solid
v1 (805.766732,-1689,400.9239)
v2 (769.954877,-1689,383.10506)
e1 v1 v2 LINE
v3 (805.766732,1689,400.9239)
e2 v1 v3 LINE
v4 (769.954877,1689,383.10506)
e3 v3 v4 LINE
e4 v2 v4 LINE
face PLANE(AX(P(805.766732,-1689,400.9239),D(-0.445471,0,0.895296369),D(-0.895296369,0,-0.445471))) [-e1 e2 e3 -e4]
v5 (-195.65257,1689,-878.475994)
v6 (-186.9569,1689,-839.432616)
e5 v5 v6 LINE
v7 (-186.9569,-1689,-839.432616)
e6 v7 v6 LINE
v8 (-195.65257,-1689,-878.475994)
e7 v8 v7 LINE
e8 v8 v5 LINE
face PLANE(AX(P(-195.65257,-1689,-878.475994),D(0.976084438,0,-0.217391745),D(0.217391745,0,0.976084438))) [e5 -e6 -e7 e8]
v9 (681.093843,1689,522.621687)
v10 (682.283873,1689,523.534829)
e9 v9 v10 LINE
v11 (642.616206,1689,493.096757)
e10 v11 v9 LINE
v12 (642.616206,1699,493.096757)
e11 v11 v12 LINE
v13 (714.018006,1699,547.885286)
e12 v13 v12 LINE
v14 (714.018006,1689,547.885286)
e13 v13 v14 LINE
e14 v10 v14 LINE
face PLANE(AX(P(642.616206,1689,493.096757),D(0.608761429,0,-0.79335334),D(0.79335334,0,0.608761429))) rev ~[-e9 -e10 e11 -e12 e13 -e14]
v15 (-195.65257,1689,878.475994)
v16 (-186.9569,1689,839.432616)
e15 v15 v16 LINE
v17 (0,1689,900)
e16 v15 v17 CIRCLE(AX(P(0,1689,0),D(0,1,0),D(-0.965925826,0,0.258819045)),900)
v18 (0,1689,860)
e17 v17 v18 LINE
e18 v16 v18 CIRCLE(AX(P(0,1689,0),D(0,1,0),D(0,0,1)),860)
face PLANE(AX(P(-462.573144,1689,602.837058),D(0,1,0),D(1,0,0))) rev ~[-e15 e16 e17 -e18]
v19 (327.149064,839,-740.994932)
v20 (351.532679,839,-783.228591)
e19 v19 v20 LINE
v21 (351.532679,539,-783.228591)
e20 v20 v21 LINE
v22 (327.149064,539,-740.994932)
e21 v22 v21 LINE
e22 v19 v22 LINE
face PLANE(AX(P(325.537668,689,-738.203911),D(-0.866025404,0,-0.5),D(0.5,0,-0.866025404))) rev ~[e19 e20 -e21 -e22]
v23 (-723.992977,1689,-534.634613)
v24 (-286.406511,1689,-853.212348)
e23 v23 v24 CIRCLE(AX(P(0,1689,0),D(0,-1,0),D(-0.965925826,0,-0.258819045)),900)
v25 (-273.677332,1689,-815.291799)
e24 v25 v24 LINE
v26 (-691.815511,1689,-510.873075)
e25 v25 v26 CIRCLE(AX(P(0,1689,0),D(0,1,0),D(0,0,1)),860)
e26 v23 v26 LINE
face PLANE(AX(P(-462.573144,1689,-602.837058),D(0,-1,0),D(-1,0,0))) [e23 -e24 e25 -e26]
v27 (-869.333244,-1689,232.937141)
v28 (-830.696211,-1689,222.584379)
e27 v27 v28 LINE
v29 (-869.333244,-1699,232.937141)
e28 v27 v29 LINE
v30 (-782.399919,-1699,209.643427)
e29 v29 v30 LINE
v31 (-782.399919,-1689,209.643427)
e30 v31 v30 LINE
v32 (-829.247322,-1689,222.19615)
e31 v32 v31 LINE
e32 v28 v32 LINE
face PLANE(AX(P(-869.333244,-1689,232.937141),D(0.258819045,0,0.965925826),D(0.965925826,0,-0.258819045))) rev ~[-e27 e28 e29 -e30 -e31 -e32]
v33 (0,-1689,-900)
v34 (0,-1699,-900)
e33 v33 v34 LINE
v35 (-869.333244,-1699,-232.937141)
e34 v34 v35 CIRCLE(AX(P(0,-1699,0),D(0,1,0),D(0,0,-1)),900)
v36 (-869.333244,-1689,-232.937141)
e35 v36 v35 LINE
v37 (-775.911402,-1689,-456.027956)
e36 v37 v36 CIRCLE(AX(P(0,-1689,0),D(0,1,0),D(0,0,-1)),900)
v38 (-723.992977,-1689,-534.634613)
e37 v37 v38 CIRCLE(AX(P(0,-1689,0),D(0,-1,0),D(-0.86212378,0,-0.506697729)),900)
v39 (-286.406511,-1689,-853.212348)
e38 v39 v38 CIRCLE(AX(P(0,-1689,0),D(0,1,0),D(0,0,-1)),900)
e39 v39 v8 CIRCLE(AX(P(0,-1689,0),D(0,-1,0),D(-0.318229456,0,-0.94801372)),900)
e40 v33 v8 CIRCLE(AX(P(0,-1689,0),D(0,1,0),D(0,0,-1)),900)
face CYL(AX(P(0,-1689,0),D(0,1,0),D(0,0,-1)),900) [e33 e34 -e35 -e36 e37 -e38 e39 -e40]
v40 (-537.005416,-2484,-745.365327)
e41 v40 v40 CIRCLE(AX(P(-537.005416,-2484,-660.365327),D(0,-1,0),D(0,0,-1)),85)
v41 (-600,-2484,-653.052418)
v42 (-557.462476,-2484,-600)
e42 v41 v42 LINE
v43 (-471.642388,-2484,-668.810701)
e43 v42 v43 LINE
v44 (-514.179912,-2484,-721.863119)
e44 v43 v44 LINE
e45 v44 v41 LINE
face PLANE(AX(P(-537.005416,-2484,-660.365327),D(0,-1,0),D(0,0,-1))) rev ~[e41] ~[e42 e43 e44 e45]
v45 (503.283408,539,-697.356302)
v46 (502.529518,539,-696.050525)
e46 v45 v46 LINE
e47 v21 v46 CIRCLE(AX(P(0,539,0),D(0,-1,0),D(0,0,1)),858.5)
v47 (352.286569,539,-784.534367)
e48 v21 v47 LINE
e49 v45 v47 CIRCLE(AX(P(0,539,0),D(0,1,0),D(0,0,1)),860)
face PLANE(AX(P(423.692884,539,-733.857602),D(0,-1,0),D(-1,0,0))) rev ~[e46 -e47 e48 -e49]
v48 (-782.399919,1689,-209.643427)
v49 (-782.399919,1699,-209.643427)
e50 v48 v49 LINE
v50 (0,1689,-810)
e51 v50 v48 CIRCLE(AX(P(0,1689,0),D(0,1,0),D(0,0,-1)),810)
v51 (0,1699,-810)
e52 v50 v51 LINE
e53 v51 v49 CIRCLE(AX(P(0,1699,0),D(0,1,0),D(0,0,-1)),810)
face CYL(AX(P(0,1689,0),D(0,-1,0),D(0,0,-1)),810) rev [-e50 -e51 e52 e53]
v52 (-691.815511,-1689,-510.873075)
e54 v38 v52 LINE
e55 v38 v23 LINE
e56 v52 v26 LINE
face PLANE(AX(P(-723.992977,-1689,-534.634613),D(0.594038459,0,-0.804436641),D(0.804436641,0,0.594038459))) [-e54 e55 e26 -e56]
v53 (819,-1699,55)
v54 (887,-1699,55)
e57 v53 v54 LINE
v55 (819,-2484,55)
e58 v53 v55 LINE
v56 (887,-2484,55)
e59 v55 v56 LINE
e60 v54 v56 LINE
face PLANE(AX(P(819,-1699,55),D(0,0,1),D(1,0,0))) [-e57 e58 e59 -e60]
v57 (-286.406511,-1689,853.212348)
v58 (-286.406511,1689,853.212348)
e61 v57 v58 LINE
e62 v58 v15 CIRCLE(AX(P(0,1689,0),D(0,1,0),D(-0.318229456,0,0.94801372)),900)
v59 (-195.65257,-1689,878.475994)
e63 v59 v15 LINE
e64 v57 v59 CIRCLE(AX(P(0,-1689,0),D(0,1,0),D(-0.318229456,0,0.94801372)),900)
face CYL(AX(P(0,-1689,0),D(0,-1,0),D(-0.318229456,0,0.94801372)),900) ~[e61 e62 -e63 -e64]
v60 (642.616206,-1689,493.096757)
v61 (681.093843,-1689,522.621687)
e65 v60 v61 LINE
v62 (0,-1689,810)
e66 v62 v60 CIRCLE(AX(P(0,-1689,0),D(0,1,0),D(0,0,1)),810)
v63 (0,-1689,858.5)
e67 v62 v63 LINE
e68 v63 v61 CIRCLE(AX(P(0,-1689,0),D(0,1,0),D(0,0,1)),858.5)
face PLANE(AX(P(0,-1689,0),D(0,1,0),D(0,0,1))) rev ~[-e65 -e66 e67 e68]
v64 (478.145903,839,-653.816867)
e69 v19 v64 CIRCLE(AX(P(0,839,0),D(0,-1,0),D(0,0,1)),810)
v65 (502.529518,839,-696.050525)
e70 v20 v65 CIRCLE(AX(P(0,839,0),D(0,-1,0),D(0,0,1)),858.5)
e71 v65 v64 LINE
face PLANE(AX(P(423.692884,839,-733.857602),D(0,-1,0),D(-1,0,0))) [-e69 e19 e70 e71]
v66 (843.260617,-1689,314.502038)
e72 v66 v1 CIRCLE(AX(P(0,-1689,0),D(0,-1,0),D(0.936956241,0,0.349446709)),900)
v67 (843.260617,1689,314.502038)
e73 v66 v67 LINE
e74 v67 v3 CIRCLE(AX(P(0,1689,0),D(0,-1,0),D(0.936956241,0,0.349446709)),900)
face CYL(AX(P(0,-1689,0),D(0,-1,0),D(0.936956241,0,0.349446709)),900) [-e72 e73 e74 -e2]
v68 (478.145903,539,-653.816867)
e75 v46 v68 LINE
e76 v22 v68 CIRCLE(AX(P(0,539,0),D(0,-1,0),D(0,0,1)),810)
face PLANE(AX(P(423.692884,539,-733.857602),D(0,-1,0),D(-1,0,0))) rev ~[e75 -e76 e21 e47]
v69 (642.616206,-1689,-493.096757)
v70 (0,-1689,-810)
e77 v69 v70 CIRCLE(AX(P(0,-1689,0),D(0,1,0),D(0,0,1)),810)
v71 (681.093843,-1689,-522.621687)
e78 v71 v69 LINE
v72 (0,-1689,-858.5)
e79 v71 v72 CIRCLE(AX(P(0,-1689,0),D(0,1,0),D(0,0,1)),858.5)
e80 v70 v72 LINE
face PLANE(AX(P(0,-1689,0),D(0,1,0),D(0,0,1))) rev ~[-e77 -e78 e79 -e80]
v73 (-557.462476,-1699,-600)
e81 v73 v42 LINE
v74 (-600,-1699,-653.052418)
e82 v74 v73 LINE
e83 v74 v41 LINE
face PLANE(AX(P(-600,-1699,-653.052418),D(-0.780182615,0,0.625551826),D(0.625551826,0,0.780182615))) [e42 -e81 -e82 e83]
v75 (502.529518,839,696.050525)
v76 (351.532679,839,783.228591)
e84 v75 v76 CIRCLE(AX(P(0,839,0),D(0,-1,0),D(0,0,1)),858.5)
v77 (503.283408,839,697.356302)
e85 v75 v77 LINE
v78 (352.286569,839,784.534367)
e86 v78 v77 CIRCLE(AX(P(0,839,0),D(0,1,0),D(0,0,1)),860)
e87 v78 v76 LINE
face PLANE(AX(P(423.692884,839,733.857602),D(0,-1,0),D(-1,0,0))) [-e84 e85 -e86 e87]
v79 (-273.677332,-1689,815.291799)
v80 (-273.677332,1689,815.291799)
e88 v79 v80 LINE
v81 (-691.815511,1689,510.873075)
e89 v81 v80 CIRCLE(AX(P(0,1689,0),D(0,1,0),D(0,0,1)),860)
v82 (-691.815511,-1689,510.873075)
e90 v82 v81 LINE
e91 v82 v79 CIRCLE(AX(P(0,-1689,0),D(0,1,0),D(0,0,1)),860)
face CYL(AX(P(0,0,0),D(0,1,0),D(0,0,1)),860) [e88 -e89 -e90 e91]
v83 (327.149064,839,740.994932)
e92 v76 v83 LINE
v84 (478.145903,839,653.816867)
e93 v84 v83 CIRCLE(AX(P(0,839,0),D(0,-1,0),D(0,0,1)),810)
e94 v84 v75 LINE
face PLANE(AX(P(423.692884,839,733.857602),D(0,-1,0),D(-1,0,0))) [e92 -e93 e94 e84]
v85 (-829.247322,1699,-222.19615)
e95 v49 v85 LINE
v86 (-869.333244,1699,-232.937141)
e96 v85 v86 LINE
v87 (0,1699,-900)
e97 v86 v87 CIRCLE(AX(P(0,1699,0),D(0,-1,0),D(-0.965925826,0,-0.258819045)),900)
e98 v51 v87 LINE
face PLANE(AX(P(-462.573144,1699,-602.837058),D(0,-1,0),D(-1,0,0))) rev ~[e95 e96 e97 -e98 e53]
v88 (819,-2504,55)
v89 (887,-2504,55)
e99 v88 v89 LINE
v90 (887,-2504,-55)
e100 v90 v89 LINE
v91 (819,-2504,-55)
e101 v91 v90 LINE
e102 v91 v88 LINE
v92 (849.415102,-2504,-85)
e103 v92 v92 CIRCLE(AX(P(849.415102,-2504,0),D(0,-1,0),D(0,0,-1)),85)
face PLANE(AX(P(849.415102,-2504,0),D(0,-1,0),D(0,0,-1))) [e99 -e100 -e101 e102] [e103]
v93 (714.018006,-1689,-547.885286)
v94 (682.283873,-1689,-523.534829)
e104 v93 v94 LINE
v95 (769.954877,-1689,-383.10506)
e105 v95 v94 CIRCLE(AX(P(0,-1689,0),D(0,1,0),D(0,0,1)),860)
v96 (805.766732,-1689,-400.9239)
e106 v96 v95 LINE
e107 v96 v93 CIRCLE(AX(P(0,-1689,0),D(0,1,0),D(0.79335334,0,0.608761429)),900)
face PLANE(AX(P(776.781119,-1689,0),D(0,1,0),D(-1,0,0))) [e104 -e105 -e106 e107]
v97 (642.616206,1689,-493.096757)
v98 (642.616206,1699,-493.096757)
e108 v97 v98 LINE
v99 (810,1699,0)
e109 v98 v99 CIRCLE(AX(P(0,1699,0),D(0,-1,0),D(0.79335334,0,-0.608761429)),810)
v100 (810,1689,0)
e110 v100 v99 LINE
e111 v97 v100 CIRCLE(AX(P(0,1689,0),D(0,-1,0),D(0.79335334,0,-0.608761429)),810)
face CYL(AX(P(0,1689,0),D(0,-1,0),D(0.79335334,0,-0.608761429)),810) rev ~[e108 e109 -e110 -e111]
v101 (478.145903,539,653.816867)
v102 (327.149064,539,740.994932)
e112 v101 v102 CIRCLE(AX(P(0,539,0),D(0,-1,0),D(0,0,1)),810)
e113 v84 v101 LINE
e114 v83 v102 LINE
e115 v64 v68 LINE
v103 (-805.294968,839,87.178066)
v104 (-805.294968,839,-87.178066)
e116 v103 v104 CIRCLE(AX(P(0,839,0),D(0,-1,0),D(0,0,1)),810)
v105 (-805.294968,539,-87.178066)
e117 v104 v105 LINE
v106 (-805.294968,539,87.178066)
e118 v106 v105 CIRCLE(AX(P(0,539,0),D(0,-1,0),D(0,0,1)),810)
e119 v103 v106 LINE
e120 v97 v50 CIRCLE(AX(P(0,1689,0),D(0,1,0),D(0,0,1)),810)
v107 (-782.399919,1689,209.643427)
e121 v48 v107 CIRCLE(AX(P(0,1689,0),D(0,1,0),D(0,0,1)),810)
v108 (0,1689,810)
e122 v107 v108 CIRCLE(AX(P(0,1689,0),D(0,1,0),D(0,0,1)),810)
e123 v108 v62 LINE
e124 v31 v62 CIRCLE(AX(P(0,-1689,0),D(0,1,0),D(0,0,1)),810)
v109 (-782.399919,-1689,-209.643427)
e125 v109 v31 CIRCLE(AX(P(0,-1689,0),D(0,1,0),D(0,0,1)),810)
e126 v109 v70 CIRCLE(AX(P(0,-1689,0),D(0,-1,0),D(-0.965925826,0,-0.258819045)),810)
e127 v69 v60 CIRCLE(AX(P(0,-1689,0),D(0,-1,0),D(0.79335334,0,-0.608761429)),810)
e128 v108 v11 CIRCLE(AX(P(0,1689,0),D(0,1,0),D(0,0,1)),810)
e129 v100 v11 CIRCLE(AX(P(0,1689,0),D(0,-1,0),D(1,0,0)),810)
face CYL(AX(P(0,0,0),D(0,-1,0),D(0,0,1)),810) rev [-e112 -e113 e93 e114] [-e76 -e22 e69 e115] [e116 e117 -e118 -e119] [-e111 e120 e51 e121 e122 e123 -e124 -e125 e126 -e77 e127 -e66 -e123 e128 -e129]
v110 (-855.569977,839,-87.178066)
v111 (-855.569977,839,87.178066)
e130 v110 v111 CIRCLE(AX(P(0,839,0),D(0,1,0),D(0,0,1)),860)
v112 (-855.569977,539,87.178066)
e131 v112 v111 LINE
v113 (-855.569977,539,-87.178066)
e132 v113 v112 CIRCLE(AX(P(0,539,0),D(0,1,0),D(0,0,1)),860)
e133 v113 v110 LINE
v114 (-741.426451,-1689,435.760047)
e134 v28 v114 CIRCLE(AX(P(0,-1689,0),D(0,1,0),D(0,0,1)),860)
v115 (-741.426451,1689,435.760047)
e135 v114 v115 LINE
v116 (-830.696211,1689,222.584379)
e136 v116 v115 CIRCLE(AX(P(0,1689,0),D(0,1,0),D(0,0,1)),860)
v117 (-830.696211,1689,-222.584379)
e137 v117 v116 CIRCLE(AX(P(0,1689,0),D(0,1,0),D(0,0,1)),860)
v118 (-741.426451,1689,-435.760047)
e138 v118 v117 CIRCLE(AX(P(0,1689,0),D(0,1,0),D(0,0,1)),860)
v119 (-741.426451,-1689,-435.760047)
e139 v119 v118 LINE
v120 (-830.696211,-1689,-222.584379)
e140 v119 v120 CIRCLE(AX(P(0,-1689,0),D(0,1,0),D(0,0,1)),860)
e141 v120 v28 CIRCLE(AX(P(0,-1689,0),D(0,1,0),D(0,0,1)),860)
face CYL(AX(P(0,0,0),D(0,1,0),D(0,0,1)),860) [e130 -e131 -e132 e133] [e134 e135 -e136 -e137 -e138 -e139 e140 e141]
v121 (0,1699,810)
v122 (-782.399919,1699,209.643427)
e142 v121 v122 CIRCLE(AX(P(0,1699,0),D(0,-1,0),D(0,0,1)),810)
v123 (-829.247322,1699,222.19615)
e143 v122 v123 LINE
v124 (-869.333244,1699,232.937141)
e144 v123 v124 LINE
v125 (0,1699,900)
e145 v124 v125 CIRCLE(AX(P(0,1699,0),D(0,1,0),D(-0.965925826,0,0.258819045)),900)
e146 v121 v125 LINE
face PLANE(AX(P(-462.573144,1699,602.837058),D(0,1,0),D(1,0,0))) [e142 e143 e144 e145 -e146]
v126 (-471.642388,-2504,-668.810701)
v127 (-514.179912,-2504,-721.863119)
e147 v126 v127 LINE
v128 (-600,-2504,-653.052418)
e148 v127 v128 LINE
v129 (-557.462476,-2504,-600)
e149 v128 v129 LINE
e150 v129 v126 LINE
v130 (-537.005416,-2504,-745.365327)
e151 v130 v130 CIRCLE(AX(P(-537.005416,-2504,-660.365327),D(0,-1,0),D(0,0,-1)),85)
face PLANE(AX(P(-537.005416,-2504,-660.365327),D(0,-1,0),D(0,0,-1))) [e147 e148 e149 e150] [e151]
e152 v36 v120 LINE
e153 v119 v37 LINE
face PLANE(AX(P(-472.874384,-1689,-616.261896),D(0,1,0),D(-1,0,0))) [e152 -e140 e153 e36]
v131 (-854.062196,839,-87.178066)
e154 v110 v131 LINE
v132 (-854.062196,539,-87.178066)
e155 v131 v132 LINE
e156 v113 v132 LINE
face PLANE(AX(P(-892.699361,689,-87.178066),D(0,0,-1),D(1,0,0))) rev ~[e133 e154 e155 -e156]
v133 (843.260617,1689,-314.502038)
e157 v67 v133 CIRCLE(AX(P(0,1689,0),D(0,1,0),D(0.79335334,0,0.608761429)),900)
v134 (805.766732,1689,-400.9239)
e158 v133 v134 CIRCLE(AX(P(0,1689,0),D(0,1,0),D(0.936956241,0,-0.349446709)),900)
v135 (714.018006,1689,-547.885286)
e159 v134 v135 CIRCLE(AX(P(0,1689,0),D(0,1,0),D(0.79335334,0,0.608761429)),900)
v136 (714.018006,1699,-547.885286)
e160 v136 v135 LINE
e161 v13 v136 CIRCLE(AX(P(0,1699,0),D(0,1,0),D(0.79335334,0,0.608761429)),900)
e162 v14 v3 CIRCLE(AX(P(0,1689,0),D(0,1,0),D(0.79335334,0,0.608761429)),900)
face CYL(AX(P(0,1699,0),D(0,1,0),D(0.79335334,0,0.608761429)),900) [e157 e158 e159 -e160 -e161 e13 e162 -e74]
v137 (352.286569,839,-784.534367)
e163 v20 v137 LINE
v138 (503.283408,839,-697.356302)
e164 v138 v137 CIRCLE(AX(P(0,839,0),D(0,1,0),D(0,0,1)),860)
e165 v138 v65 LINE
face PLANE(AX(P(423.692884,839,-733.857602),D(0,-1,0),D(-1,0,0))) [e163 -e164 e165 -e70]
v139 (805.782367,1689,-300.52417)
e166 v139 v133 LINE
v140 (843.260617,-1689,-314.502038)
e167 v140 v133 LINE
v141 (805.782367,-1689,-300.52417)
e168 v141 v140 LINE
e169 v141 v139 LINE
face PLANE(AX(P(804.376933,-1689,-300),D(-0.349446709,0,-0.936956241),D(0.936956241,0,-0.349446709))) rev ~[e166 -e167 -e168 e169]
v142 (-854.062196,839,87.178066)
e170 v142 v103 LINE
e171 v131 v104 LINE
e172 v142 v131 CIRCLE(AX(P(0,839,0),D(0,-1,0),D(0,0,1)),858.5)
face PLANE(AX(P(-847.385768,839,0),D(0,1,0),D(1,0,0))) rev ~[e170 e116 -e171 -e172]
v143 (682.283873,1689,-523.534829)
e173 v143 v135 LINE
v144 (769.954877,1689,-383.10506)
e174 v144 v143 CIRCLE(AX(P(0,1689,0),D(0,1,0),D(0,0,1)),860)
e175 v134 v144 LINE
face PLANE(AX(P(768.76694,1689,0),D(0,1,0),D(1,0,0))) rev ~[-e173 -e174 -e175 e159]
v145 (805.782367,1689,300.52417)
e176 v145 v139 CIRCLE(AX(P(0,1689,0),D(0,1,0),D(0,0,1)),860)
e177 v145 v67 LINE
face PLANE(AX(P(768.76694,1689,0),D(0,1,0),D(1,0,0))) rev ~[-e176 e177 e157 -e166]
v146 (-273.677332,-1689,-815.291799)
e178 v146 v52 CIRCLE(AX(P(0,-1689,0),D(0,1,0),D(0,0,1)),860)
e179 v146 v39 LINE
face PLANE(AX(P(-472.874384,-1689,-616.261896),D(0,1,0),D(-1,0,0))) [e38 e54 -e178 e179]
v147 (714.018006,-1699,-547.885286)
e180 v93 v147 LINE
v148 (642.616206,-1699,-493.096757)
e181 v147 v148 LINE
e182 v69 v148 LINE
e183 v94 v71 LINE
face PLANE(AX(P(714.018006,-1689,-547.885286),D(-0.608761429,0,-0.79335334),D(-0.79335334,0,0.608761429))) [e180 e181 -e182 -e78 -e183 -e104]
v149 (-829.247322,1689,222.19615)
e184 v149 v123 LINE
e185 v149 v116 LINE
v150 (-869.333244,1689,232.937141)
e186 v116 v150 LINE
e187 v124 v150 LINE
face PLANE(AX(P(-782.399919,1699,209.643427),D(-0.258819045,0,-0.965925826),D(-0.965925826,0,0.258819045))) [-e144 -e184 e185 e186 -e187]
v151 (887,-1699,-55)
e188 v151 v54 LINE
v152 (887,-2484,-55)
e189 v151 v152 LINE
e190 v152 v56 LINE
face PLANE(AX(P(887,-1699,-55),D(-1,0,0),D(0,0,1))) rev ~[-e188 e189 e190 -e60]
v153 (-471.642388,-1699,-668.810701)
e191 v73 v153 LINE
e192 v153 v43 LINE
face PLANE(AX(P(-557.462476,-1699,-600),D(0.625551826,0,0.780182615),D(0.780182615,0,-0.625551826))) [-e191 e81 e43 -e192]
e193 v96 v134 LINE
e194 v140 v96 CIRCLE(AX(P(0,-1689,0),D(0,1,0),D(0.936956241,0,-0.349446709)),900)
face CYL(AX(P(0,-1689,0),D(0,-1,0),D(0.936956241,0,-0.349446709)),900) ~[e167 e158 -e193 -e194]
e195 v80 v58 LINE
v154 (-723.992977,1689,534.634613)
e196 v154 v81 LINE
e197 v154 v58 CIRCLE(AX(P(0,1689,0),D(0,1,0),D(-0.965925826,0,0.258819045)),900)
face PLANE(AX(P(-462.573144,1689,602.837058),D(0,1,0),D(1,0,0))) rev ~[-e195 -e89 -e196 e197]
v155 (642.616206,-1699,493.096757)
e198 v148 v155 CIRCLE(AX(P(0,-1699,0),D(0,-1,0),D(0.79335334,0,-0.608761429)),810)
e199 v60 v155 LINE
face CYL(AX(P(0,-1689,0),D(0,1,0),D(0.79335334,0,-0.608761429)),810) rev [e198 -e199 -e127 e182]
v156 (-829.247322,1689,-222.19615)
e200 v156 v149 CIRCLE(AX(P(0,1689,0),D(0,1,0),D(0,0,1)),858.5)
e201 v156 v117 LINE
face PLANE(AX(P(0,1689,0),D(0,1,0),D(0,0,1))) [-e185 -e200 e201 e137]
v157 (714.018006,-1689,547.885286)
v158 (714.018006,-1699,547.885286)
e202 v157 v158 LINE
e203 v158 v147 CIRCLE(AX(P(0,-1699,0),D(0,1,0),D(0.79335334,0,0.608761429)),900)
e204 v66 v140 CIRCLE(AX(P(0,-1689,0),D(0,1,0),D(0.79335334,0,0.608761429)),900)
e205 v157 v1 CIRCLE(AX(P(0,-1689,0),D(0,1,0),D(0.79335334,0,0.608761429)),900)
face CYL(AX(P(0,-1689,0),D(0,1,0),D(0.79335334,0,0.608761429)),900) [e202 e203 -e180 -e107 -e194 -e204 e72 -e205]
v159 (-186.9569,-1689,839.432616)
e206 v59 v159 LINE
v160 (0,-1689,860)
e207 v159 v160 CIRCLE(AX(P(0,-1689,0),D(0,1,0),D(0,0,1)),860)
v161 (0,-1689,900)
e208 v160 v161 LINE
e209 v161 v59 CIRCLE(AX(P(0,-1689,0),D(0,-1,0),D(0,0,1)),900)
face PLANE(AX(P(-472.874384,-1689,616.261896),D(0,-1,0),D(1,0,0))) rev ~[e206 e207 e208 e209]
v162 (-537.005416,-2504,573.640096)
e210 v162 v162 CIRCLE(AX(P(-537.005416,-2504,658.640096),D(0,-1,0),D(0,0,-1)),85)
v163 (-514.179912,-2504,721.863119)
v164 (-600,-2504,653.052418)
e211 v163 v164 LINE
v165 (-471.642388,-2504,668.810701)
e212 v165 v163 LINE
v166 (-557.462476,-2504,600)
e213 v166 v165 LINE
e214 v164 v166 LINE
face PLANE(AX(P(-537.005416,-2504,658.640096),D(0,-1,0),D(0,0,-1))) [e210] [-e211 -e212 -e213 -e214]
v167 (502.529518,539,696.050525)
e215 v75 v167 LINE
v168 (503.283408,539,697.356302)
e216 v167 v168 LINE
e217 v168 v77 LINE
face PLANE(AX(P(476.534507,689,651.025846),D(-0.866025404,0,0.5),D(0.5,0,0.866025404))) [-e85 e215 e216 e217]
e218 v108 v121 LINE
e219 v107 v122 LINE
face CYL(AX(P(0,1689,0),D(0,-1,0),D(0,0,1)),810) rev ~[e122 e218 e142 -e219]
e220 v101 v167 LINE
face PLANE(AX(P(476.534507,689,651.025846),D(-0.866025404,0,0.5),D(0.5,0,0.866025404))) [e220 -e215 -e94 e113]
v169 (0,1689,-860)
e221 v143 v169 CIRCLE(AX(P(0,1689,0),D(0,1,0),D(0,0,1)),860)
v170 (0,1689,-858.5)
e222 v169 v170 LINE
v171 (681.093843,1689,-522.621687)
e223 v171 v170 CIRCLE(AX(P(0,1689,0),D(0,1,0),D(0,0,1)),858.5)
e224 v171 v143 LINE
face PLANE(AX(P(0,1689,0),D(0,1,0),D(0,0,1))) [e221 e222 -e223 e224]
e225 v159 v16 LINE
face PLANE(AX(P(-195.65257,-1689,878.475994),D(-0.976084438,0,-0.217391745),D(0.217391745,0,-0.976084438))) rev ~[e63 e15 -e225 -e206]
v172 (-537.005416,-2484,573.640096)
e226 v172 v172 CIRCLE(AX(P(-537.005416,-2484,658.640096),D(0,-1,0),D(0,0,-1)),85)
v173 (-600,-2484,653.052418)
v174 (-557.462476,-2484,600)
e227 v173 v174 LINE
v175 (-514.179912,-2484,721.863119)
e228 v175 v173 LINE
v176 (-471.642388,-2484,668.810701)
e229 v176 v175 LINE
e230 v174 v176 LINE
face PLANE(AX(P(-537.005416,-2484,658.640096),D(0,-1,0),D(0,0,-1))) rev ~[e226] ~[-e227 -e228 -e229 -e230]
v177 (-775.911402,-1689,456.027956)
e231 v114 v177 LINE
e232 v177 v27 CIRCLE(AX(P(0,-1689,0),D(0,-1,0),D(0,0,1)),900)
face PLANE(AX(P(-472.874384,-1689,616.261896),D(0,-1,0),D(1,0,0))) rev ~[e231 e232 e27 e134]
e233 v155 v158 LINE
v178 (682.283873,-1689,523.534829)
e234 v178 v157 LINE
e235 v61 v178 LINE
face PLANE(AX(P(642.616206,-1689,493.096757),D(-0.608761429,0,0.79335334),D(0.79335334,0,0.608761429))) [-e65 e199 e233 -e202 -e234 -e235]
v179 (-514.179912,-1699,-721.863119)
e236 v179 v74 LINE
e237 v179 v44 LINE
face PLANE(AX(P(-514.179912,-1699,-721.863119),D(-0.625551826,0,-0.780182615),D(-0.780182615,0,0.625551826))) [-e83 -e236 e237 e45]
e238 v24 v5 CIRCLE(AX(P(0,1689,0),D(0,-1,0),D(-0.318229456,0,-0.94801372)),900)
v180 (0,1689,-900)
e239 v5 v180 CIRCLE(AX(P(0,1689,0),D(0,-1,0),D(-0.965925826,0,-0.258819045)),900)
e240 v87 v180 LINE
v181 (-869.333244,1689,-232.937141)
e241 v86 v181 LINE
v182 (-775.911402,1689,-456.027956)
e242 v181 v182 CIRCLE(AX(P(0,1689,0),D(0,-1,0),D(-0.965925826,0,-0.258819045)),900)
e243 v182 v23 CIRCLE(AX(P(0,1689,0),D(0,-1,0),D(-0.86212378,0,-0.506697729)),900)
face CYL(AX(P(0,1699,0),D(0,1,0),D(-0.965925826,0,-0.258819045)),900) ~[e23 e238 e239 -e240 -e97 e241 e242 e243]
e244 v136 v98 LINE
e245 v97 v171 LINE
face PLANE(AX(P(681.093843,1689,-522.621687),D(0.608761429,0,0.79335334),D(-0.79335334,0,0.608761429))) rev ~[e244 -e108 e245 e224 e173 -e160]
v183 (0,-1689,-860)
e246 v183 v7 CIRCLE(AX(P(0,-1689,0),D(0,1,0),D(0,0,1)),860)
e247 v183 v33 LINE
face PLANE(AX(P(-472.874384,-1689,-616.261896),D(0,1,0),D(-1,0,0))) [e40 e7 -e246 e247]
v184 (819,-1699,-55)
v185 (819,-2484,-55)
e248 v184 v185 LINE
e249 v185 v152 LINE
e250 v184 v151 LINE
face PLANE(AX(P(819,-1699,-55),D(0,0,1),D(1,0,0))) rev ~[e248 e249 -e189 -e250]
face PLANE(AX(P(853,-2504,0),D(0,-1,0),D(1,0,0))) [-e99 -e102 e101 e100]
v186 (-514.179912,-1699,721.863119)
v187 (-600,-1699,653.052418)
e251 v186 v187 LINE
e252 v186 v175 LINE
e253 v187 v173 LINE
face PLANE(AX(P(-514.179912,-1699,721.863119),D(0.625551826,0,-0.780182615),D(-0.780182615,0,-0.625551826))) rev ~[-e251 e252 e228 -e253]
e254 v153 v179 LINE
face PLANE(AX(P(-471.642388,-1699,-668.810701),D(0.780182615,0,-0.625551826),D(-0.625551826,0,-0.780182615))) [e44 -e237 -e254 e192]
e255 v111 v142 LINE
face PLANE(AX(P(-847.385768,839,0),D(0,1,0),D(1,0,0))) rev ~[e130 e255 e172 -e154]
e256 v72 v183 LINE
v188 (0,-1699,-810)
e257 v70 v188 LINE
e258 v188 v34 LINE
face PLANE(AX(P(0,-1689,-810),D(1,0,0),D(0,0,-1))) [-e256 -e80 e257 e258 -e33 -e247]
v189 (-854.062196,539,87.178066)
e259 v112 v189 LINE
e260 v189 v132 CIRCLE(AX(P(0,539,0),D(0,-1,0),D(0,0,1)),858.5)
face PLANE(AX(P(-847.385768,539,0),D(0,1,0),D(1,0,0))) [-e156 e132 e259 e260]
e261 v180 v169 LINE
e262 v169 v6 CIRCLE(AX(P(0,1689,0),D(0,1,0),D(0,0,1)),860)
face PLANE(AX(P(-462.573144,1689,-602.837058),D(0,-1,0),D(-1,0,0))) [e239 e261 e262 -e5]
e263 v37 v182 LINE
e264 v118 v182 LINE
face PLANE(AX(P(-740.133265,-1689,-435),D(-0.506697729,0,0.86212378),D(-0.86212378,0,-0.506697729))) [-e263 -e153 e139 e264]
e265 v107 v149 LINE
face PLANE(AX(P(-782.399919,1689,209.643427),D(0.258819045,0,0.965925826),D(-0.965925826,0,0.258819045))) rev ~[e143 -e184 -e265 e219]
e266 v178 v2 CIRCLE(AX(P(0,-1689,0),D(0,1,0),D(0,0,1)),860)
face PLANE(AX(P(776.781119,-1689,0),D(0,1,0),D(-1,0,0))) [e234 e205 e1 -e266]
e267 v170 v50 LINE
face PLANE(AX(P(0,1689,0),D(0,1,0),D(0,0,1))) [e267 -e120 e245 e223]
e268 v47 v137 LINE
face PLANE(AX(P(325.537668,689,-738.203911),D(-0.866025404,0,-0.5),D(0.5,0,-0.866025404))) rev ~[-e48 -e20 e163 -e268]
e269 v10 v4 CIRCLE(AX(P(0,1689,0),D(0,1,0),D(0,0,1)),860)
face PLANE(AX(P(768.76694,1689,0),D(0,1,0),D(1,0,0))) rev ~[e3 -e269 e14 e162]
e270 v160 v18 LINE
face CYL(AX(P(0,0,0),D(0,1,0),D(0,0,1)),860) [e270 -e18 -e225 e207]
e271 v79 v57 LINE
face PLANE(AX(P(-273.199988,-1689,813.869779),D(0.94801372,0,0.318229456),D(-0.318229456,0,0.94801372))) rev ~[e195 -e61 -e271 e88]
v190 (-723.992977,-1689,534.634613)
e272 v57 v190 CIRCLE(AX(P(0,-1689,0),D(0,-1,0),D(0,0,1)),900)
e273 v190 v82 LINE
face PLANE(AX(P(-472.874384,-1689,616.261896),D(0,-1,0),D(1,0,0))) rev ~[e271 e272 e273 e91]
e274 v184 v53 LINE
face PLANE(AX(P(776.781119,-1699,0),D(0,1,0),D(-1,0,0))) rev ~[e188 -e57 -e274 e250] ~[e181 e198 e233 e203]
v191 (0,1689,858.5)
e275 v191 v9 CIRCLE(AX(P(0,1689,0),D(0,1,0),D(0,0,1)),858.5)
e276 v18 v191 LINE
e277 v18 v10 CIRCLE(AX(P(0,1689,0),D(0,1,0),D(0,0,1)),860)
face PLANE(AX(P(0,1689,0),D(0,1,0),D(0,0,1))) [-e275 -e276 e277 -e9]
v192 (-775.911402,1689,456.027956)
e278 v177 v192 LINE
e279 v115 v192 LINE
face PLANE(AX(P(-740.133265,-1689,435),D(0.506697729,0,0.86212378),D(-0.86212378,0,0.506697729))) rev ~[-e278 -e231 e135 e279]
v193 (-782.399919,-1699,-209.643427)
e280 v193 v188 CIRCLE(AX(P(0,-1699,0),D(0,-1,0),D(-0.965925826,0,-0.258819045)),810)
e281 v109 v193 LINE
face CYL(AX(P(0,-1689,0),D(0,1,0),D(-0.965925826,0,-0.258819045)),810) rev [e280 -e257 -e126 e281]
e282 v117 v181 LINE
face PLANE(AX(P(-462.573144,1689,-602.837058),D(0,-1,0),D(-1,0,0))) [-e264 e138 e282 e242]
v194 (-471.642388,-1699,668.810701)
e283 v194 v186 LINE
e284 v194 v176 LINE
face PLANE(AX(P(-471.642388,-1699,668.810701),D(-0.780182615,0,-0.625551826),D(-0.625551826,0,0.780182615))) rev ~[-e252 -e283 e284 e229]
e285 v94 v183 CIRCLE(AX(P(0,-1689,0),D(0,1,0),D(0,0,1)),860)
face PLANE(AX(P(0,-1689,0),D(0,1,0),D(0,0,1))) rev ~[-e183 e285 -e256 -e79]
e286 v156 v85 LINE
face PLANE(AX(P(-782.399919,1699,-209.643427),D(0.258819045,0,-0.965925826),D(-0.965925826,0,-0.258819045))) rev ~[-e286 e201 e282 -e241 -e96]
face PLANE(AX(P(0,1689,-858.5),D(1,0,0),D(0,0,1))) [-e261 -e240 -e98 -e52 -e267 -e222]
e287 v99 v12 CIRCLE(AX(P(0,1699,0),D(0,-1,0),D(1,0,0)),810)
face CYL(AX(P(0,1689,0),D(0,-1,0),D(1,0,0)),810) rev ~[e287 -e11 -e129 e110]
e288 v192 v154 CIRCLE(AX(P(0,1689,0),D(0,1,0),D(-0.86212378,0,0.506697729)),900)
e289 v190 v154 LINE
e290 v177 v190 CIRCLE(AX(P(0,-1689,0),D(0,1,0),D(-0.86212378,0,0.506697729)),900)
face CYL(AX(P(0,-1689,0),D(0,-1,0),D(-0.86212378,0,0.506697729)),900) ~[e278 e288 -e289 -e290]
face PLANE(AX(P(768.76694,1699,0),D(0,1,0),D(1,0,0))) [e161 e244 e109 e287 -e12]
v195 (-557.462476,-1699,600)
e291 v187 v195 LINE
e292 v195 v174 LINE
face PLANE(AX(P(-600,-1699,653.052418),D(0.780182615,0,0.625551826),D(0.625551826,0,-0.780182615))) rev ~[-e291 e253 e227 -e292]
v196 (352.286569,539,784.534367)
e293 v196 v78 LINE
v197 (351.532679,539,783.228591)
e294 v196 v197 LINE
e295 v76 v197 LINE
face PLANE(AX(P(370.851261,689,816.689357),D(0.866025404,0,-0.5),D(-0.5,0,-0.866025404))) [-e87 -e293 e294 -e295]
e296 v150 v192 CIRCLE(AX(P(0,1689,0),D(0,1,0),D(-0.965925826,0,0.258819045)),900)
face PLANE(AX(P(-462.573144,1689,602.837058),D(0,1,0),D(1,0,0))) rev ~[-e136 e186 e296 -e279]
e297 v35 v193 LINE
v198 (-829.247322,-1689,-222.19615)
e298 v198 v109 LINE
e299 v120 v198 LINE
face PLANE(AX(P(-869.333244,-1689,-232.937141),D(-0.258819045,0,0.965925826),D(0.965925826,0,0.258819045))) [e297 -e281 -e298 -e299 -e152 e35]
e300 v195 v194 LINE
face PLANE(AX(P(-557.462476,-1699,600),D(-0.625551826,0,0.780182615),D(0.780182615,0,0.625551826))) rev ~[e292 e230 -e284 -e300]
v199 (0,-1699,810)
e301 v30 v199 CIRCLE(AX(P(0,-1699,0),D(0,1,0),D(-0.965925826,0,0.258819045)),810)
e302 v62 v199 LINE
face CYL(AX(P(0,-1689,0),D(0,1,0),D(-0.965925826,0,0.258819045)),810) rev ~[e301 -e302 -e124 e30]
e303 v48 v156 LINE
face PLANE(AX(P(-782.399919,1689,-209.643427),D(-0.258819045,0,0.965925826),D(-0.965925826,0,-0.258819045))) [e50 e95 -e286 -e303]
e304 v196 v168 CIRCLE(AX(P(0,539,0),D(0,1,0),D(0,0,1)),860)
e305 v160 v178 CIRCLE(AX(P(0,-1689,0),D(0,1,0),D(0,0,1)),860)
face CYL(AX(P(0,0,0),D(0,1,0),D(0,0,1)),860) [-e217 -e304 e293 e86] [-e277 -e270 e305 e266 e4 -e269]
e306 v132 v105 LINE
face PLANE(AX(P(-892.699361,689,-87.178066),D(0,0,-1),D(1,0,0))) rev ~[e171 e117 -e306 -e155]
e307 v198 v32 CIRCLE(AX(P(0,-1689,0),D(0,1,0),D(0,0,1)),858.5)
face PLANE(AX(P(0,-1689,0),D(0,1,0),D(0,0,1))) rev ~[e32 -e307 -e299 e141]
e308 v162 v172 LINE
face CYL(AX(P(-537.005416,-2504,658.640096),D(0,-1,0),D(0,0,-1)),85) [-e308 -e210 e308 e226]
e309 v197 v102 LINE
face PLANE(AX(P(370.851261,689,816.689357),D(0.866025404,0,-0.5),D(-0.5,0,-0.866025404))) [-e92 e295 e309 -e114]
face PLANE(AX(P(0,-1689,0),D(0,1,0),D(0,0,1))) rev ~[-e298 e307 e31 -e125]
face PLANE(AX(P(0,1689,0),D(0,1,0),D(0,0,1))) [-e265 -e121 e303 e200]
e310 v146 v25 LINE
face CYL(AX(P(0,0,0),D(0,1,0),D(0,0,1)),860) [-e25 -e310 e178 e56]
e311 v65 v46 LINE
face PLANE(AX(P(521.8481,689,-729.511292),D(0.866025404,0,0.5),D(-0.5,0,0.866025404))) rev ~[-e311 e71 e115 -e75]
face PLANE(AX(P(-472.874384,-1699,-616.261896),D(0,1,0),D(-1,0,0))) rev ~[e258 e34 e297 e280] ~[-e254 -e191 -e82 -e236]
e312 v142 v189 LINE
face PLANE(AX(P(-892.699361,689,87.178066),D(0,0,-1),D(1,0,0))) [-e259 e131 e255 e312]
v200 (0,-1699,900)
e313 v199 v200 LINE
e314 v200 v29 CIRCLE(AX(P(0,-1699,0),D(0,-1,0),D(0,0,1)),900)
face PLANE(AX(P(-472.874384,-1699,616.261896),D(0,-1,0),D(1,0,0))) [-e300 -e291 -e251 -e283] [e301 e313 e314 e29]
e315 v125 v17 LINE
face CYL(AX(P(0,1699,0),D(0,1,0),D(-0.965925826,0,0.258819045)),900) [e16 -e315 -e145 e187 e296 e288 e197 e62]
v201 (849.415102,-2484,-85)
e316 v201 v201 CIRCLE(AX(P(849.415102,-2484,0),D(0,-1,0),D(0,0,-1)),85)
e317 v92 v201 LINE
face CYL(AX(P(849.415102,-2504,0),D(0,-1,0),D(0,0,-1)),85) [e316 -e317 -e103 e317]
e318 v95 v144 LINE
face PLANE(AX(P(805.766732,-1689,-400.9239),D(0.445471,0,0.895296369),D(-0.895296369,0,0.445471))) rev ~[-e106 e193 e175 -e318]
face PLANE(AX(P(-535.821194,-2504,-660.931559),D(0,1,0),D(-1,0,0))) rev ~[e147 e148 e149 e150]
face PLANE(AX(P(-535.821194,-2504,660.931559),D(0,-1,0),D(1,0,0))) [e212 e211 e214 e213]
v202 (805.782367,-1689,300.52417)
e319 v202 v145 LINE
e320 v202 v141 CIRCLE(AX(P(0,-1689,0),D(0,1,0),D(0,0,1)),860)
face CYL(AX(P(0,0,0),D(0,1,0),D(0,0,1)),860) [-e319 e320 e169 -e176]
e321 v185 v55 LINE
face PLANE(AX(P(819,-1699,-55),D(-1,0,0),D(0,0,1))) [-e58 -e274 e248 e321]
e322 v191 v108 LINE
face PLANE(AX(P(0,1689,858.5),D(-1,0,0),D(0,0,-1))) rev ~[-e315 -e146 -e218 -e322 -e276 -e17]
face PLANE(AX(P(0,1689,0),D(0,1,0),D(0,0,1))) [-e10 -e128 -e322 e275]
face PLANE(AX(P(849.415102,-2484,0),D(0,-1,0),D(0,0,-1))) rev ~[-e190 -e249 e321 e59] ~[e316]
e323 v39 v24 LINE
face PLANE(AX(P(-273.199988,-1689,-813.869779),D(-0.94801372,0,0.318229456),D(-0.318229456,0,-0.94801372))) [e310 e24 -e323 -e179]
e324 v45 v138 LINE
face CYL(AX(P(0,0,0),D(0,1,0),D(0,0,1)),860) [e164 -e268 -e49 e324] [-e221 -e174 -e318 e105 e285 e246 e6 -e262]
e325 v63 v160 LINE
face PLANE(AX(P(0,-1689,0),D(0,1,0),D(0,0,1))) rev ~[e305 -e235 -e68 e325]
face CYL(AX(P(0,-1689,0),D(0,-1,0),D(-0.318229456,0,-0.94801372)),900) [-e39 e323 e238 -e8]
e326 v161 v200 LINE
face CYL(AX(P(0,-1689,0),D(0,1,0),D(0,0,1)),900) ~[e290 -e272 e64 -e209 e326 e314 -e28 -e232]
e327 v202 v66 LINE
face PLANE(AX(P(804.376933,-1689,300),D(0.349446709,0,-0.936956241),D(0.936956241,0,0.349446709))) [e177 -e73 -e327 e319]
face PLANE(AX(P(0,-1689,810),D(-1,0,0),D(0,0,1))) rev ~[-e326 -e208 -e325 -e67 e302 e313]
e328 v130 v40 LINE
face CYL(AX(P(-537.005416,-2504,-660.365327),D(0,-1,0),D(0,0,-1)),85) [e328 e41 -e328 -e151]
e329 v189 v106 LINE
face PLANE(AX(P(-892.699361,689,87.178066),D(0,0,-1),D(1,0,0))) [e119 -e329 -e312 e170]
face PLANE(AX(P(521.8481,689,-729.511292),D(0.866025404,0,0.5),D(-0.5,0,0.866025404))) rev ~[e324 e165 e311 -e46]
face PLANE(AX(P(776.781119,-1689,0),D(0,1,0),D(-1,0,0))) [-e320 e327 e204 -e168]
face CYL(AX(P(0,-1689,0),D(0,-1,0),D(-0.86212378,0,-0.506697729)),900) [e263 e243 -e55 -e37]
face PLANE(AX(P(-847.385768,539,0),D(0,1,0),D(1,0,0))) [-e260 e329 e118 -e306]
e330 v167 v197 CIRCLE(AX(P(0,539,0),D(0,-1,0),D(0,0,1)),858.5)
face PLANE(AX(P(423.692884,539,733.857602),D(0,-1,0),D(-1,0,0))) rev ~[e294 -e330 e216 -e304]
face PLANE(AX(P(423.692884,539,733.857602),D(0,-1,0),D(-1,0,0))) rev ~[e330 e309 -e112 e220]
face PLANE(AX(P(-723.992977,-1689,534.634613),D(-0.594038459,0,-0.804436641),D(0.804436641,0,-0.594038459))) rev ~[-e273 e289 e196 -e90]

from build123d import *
from build123d.topology import SkipClean

# Parameters (mm, degrees)
IZIM1_R                       = 860
IZIM1_R_2                     = 858.5
Y_KSEKLIK_EKSTR_ZYON1_DEPTH   = 1689
IZIM2_R                       = 858.5
IZIM2_R_2                     = 810
Y_KSEKLIK_EKSTR_ZYON2_DEPTH   = 1689
IZIM3_W                       = 90.627186628
IZIM3_H                       = 174.356131312
KES_EKSTR_ZYON3_DEPTH         = 150
Y_KSEKLIK_EKSTR_ZYON3_DEPTH   = 10
Y_KSEKLIK_EKSTR_ZYON4_DEPTH   = 10
Y_KSEKLIK_EKSTR_ZYON4_2_DEPTH = 10
Y_KSEKLIK_EKSTR_ZYON6_DEPTH   = 10
Y_KSEKLIK_EKSTR_ZYON7_DEPTH   = 10
Y_KSEKLIK_EKSTR_ZYON7_2_DEPTH = 10
Y_KSEKLIK_EKSTR_ZYON7_3_DEPTH = 10
Y_KSEKLIK_EKSTR_ZYON8_DEPTH   = 3378
IZIM9_W                       = 68
IZIM9_H                       = 110
Y_KSEKLIK_EKSTR_ZYON9_DEPTH   = 805
IZIM10_R                      = 85
Y_KSEKLIK_EKSTR_ZYON10_DEPTH  = 20


with BuildPart() as part:
    # Çizim1 → Yükseklik-Ekstrüzyon1 (new, symmetric)
    with BuildSketch(Plane(origin=(0, 0, 0), x_dir=(1, 0, 0), z_dir=(0, 1, 0))):
        with Locations(Location((0, 0, 0), (0, 0, 270))):
            Circle(IZIM1_R)
        with Locations(Location((0, 0, 0), (0, 0, 270))):
            Circle(IZIM1_R_2, mode=Mode.SUBTRACT)
    extrude(amount=Y_KSEKLIK_EKSTR_ZYON1_DEPTH, both=True)


with BuildPart() as body_2:
    # Çizim2 → Yükseklik-Ekstrüzyon2 (new, symmetric)
    with BuildSketch(Plane(origin=(0, 0, 0), x_dir=(1, 0, 0), z_dir=(0, 1, 0))):
        with Locations(Location((0, 0, 0), (0, 0, 270))):
            Circle(IZIM2_R)
        with Locations(Location((0, 0, 0), (0, 0, 270))):
            Circle(IZIM2_R_2, mode=Mode.SUBTRACT)
    extrude(amount=Y_KSEKLIK_EKSTR_ZYON2_DEPTH, both=True)


with BuildPart() as kes_ekstr_zyon3_tool:
    # Çizim3 → Kes-Ekstrüzyon3 (new, symmetric)
    with BuildSketch(Plane(origin=(0, 689, 0), x_dir=(1, 0, 0), z_dir=(0, 1, 0))):
        Polygon((370.851260958, 816.689357342), (521.848099979, 729.511291685), (476.534506666, 651.025845793), (325.537667644, 738.203911449), align=None)
        with Locations((-847.385767623, 0)):
            Rectangle(IZIM3_W, IZIM3_H)
        Polygon((521.848099979, -729.511291686), (370.851260958, -816.689357342), (325.537667644, -738.203911449), (476.534506666, -651.025845793), align=None)
    extrude(amount=KES_EKSTR_ZYON3_DEPTH, both=True)


with BuildPart() as part_1:
    add(part.part)

    # Kes-Ekstrüzyon3: cut by kes_ekstr_zyon3_tool
    add(kes_ekstr_zyon3_tool.part, mode=Mode.SUBTRACT)



with BuildPart() as body_2_1:
    add(body_2.part)

    # Kes-Ekstrüzyon3: cut by kes_ekstr_zyon3_tool
    add(kes_ekstr_zyon3_tool.part, mode=Mode.SUBTRACT)


with BuildPart() as body_3:
    # Çizim4 → Yükseklik-Ekstrüzyon3 (new body)
    with BuildSketch(Plane(origin=(0, 1689, 0), x_dir=(1, 0, 0), z_dir=(0, 1, 0))):
        with BuildLine():
            Line((-782.399919294, 209.643426533), (-829.247321869, 222.196150221))
            ThreePointArc((-829.247321869, 222.196150221), (-522.621686804, 681.09384264), (0, 858.5))
            Line((0, 858.5), (0, 810))
            ThreePointArc((0, 810), (-493.096757497, 642.616205636), (-782.399919294, 209.643426533))
        make_face()
    extrude(amount=Y_KSEKLIK_EKSTR_ZYON3_DEPTH)



with BuildPart() as body_4:
    # Çizim4<3> → Yükseklik-Ekstrüzyon4 (new body)
    with BuildSketch(Plane(origin=(0, 1689, 0), x_dir=(1, 0, 0), z_dir=(0, 1, 0))):
        with BuildLine():
            ThreePointArc((810, 0), (767.013404891, -260.365966896), (642.616205636, -493.096757497))
            Line((642.616205636, -493.096757497), (681.09384264, -522.621686804))
            ThreePointArc((681.09384264, -522.621686804), (812.939516172, -275.955780963), (858.5, 0))
            ThreePointArc((858.5, 0), (812.939516172, 275.955780963), (681.09384264, 522.621686804))
            Line((681.09384264, 522.621686804), (642.616205636, 493.096757497))
            ThreePointArc((642.616205636, 493.096757497), (767.013404891, 260.365966896), (810, 0))
        make_face()
    extrude(amount=Y_KSEKLIK_EKSTR_ZYON4_DEPTH)


with BuildPart() as body_5:
    # Çizim4<3> → Y_kseklik-Ekstr_zyon4 2 (new body)
    with BuildSketch(Plane(origin=(0, 1689, 0), x_dir=(1, 0, 0), z_dir=(0, 1, 0))):
        with BuildLine():
            Line((0, -858.5), (0, -810))
            ThreePointArc((0, -810), (-493.096757497, -642.616205636), (-782.399919294, -209.643426533))
            Line((-782.399919294, -209.643426533), (-829.247321869, -222.196150221))
            ThreePointArc((-829.247321869, -222.196150221), (-522.621686804, -681.09384264), (0, -858.5))
        make_face()
    extrude(amount=Y_KSEKLIK_EKSTR_ZYON4_2_DEPTH)


with BuildPart() as body_3_1:
    add(body_3.part)

    add(body_5.part)  # Yükseklik-Ekstrüzyon6 merges body 5

    add(body_4.part)  # Yükseklik-Ekstrüzyon6 merges body 4
    # Çizim6 → Yükseklik-Ekstrüzyon6 (add)
    with BuildSketch(Plane(origin=(0, 1699, 0), x_dir=(1, 0, 0), z_dir=(0, 1, 0))):
        with BuildLine():
            Line((-782.399919294, -209.643426533), (-869.33324366, -232.937140592))
            ThreePointArc((-869.33324366, -232.937140592), (-547.885286108, -714.018006262), (0, -900))
            Line((0, -900), (0, -810))
            ThreePointArc((0, -810), (-493.096757497, -642.616205636), (-782.399919294, -209.643426533))
        make_face()
        with BuildLine():
            Line((642.616205636, -493.096757497), (714.018006262, -547.885286108))
            ThreePointArc((714.018006262, -547.885286108), (900, 0), (714.018006262, 547.885286108))
            Line((714.018006262, 547.885286108), (642.616205636, 493.096757497))
            ThreePointArc((642.616205636, 493.096757497), (810, 0), (642.616205636, -493.096757497))
        make_face()
        with BuildLine():
            Line((-782.399919294, 209.643426533), (-869.33324366, 232.937140592))
            ThreePointArc((-869.33324366, 232.937140592), (-547.885286108, 714.018006262), (0, 900))
            Line((0, 900), (0, 810))
            ThreePointArc((0, 810), (-493.096757497, 642.616205636), (-782.399919294, 209.643426533))
        make_face()
    extrude(amount=-Y_KSEKLIK_EKSTR_ZYON6_DEPTH)


with BuildPart() as body_4_2:
    # Çizim7 → Yükseklik-Ekstrüzyon7 (new body)
    with BuildSketch(Plane.XZ.offset(1689)):
        with BuildLine():
            Line((-869.33324366, -232.937140592), (-782.399919294, -209.643426533))
            ThreePointArc((-782.399919294, -209.643426533), (-493.096757497, -642.616205636), (0, -810))
            Line((0, -810), (0, -900))
            ThreePointArc((0, -900), (-547.885286108, -714.018006262), (-869.33324366, -232.937140592))
        make_face()
    extrude(amount=Y_KSEKLIK_EKSTR_ZYON7_DEPTH)


with BuildPart() as body_5_2:
    # Çizim7 → Y_kseklik-Ekstr_zyon7 2 (new body)
    with BuildSketch(Plane.XZ.offset(1689)):
        with BuildLine():
            Line((-869.33324366, 232.937140592), (-782.399919294, 209.643426533))
            ThreePointArc((-782.399919294, 209.643426533), (-493.096757497, 642.616205636), (0, 810))
            Line((0, 810), (0, 900))
            ThreePointArc((0, 900), (-547.885286108, 714.018006262), (-869.33324366, 232.937140592))
        make_face()
    extrude(amount=Y_KSEKLIK_EKSTR_ZYON7_2_DEPTH)


with BuildPart() as body_6:
    # Çizim7 → Y_kseklik-Ekstr_zyon7 3 (new body)
    with BuildSketch(Plane.XZ.offset(1689)):
        with BuildLine():
            Line((714.018006262, -547.885286108), (642.616205636, -493.096757497))
            ThreePointArc((642.616205636, -493.096757497), (810, 0), (642.616205636, 493.096757497))
            Line((642.616205636, 493.096757497), (714.018006262, 547.885286108))
            ThreePointArc((714.018006262, 547.885286108), (900, 0), (714.018006262, -547.885286108))
        make_face()
    extrude(amount=Y_KSEKLIK_EKSTR_ZYON7_3_DEPTH)


with BuildPart() as part_2:
    with SkipClean():  # the faces are left unmerged after this step: merging them gives an invalid solid
        add(part_1.part)

        add(body_2_1.part)  # Yükseklik-Ekstrüzyon8 merges body 2

        add(body_3_1.part)  # Yükseklik-Ekstrüzyon8 merges body 3

        add(body_4_2.part)  # Yükseklik-Ekstrüzyon8 merges body 4 2

        add(body_5_2.part)  # Yükseklik-Ekstrüzyon8 merges body 5 2

        add(body_6.part)  # Yükseklik-Ekstrüzyon8 merges body 6
        # Çizim8 → Yükseklik-Ekstrüzyon8 (add)
        with BuildSketch(Plane(origin=(0, -1689, 0), x_dir=(1, 0, 0), z_dir=(0, 1, 0))):
            with BuildLine():
                Line((-740.133265027, 435), (-775.911401892, 456.027955737))
                ThreePointArc((-775.911401892, 456.027955737), (-750.981383146, 496.01105045), (-723.992976628, 534.634613352))
                Line((-723.992976628, 534.634613352), (-690.608856039, 509.982017292))
                ThreePointArc((-690.608856039, 509.982017292), (-716.352797145, 473.139429791), (-740.133265027, 435))
            make_face()
            with BuildLine():
                Line((-273.199988147, 813.869778574), (-286.406510579, 853.212347952))
                ThreePointArc((-286.406510579, 853.212347952), (-241.360316302, 867.032408688), (-195.652570174, 878.475993858))
                Line((-195.652570174, 878.475993858), (-186.630812772, 837.968489696))
                ThreePointArc((-186.630812772, 837.968489696), (-230.230923939, 827.052580954), (-273.199988147, 813.869778574))
            make_face()
            with BuildLine():
                Line((-273.199988147, -813.869778574), (-286.406510579, -853.212347952))
                ThreePointArc((-286.406510579, -853.212347952), (-241.360316302, -867.032408688), (-195.652570174, -878.475993858))
                Line((-195.652570174, -878.475993858), (-186.630812772, -837.968489696))
                ThreePointArc((-186.630812772, -837.968489696), (-230.230923939, -827.052580954), (-273.199988147, -813.869778574))
            make_face()
            with BuildLine():
                Line((-740.133265027, -435), (-775.911401892, -456.027955737))
                ThreePointArc((-775.911401892, -456.027955737), (-750.981383146, -496.01105045), (-723.992976628, -534.634613352))
                Line((-723.992976628, -534.634613352), (-690.608856039, -509.982017292))
                ThreePointArc((-690.608856039, -509.982017292), (-716.352797145, -473.139429791), (-740.133265027, -435))
            make_face()
            with BuildLine():
                Line((805.76673212, -400.923899772), (768.611932806, -382.436853283))
                ThreePointArc((768.611932806, -382.436853283), (787.573775284, -341.686696384), (804.376932787, -300))
                Line((804.376932787, -300), (843.260616783, -314.502038439))
                ThreePointArc((843.260616783, -314.502038439), (825.645192493, -358.203875067), (805.76673212, -400.923899772))
            make_face()
            with BuildLine():
                Line((805.76673212, 400.923899772), (768.611932806, 382.436853283))
                ThreePointArc((768.611932806, 382.436853283), (787.573775284, 341.686696384), (804.376932787, 300))
                Line((804.376932787, 300), (843.260616783, 314.502038439))
                ThreePointArc((843.260616783, 314.502038439), (825.645192493, 358.203875067), (805.76673212, 400.923899772))
            make_face()
        extrude(amount=Y_KSEKLIK_EKSTR_ZYON8_DEPTH)

    # Çizim9 → Yükseklik-Ekstrüzyon9 (add)
    with SkipClean():  # the faces are left unmerged after this step: merging them gives an invalid solid
        with BuildSketch(Plane.XZ.offset(1699)):
            Polygon((-514.179912363, -721.86311871), (-600, -653.052417812), (-557.462475809, -600), (-471.642388172, -668.810700898), align=None)
            Polygon((-557.462475809, 600), (-471.642388172, 668.810700898), (-514.179912363, 721.86311871), (-600, 653.052417812), align=None)
            with Locations((853, 0)):
                Rectangle(IZIM9_W, IZIM9_H)
        extrude(amount=Y_KSEKLIK_EKSTR_ZYON9_DEPTH)

    # Çizim10 → Yükseklik-Ekstrüzyon10 (add)
    with SkipClean():  # the faces are left unmerged after this step: merging them gives an invalid solid
        with BuildSketch(Plane.XZ.offset(2504)):
            with Locations(Location((849.415102064, 0, 0), (0, 0, 270))):
                Circle(IZIM10_R)
            with Locations(Location((-537.005415531, -660.36532662, 0), (0, 0, 270))):
                Circle(IZIM10_R)
            with Locations(Location((-537.005415531, 658.640095908, 0), (0, 0, 270))):
                Circle(IZIM10_R)
        extrude(amount=-Y_KSEKLIK_EKSTR_ZYON10_DEPTH)


solid = part_2.part
